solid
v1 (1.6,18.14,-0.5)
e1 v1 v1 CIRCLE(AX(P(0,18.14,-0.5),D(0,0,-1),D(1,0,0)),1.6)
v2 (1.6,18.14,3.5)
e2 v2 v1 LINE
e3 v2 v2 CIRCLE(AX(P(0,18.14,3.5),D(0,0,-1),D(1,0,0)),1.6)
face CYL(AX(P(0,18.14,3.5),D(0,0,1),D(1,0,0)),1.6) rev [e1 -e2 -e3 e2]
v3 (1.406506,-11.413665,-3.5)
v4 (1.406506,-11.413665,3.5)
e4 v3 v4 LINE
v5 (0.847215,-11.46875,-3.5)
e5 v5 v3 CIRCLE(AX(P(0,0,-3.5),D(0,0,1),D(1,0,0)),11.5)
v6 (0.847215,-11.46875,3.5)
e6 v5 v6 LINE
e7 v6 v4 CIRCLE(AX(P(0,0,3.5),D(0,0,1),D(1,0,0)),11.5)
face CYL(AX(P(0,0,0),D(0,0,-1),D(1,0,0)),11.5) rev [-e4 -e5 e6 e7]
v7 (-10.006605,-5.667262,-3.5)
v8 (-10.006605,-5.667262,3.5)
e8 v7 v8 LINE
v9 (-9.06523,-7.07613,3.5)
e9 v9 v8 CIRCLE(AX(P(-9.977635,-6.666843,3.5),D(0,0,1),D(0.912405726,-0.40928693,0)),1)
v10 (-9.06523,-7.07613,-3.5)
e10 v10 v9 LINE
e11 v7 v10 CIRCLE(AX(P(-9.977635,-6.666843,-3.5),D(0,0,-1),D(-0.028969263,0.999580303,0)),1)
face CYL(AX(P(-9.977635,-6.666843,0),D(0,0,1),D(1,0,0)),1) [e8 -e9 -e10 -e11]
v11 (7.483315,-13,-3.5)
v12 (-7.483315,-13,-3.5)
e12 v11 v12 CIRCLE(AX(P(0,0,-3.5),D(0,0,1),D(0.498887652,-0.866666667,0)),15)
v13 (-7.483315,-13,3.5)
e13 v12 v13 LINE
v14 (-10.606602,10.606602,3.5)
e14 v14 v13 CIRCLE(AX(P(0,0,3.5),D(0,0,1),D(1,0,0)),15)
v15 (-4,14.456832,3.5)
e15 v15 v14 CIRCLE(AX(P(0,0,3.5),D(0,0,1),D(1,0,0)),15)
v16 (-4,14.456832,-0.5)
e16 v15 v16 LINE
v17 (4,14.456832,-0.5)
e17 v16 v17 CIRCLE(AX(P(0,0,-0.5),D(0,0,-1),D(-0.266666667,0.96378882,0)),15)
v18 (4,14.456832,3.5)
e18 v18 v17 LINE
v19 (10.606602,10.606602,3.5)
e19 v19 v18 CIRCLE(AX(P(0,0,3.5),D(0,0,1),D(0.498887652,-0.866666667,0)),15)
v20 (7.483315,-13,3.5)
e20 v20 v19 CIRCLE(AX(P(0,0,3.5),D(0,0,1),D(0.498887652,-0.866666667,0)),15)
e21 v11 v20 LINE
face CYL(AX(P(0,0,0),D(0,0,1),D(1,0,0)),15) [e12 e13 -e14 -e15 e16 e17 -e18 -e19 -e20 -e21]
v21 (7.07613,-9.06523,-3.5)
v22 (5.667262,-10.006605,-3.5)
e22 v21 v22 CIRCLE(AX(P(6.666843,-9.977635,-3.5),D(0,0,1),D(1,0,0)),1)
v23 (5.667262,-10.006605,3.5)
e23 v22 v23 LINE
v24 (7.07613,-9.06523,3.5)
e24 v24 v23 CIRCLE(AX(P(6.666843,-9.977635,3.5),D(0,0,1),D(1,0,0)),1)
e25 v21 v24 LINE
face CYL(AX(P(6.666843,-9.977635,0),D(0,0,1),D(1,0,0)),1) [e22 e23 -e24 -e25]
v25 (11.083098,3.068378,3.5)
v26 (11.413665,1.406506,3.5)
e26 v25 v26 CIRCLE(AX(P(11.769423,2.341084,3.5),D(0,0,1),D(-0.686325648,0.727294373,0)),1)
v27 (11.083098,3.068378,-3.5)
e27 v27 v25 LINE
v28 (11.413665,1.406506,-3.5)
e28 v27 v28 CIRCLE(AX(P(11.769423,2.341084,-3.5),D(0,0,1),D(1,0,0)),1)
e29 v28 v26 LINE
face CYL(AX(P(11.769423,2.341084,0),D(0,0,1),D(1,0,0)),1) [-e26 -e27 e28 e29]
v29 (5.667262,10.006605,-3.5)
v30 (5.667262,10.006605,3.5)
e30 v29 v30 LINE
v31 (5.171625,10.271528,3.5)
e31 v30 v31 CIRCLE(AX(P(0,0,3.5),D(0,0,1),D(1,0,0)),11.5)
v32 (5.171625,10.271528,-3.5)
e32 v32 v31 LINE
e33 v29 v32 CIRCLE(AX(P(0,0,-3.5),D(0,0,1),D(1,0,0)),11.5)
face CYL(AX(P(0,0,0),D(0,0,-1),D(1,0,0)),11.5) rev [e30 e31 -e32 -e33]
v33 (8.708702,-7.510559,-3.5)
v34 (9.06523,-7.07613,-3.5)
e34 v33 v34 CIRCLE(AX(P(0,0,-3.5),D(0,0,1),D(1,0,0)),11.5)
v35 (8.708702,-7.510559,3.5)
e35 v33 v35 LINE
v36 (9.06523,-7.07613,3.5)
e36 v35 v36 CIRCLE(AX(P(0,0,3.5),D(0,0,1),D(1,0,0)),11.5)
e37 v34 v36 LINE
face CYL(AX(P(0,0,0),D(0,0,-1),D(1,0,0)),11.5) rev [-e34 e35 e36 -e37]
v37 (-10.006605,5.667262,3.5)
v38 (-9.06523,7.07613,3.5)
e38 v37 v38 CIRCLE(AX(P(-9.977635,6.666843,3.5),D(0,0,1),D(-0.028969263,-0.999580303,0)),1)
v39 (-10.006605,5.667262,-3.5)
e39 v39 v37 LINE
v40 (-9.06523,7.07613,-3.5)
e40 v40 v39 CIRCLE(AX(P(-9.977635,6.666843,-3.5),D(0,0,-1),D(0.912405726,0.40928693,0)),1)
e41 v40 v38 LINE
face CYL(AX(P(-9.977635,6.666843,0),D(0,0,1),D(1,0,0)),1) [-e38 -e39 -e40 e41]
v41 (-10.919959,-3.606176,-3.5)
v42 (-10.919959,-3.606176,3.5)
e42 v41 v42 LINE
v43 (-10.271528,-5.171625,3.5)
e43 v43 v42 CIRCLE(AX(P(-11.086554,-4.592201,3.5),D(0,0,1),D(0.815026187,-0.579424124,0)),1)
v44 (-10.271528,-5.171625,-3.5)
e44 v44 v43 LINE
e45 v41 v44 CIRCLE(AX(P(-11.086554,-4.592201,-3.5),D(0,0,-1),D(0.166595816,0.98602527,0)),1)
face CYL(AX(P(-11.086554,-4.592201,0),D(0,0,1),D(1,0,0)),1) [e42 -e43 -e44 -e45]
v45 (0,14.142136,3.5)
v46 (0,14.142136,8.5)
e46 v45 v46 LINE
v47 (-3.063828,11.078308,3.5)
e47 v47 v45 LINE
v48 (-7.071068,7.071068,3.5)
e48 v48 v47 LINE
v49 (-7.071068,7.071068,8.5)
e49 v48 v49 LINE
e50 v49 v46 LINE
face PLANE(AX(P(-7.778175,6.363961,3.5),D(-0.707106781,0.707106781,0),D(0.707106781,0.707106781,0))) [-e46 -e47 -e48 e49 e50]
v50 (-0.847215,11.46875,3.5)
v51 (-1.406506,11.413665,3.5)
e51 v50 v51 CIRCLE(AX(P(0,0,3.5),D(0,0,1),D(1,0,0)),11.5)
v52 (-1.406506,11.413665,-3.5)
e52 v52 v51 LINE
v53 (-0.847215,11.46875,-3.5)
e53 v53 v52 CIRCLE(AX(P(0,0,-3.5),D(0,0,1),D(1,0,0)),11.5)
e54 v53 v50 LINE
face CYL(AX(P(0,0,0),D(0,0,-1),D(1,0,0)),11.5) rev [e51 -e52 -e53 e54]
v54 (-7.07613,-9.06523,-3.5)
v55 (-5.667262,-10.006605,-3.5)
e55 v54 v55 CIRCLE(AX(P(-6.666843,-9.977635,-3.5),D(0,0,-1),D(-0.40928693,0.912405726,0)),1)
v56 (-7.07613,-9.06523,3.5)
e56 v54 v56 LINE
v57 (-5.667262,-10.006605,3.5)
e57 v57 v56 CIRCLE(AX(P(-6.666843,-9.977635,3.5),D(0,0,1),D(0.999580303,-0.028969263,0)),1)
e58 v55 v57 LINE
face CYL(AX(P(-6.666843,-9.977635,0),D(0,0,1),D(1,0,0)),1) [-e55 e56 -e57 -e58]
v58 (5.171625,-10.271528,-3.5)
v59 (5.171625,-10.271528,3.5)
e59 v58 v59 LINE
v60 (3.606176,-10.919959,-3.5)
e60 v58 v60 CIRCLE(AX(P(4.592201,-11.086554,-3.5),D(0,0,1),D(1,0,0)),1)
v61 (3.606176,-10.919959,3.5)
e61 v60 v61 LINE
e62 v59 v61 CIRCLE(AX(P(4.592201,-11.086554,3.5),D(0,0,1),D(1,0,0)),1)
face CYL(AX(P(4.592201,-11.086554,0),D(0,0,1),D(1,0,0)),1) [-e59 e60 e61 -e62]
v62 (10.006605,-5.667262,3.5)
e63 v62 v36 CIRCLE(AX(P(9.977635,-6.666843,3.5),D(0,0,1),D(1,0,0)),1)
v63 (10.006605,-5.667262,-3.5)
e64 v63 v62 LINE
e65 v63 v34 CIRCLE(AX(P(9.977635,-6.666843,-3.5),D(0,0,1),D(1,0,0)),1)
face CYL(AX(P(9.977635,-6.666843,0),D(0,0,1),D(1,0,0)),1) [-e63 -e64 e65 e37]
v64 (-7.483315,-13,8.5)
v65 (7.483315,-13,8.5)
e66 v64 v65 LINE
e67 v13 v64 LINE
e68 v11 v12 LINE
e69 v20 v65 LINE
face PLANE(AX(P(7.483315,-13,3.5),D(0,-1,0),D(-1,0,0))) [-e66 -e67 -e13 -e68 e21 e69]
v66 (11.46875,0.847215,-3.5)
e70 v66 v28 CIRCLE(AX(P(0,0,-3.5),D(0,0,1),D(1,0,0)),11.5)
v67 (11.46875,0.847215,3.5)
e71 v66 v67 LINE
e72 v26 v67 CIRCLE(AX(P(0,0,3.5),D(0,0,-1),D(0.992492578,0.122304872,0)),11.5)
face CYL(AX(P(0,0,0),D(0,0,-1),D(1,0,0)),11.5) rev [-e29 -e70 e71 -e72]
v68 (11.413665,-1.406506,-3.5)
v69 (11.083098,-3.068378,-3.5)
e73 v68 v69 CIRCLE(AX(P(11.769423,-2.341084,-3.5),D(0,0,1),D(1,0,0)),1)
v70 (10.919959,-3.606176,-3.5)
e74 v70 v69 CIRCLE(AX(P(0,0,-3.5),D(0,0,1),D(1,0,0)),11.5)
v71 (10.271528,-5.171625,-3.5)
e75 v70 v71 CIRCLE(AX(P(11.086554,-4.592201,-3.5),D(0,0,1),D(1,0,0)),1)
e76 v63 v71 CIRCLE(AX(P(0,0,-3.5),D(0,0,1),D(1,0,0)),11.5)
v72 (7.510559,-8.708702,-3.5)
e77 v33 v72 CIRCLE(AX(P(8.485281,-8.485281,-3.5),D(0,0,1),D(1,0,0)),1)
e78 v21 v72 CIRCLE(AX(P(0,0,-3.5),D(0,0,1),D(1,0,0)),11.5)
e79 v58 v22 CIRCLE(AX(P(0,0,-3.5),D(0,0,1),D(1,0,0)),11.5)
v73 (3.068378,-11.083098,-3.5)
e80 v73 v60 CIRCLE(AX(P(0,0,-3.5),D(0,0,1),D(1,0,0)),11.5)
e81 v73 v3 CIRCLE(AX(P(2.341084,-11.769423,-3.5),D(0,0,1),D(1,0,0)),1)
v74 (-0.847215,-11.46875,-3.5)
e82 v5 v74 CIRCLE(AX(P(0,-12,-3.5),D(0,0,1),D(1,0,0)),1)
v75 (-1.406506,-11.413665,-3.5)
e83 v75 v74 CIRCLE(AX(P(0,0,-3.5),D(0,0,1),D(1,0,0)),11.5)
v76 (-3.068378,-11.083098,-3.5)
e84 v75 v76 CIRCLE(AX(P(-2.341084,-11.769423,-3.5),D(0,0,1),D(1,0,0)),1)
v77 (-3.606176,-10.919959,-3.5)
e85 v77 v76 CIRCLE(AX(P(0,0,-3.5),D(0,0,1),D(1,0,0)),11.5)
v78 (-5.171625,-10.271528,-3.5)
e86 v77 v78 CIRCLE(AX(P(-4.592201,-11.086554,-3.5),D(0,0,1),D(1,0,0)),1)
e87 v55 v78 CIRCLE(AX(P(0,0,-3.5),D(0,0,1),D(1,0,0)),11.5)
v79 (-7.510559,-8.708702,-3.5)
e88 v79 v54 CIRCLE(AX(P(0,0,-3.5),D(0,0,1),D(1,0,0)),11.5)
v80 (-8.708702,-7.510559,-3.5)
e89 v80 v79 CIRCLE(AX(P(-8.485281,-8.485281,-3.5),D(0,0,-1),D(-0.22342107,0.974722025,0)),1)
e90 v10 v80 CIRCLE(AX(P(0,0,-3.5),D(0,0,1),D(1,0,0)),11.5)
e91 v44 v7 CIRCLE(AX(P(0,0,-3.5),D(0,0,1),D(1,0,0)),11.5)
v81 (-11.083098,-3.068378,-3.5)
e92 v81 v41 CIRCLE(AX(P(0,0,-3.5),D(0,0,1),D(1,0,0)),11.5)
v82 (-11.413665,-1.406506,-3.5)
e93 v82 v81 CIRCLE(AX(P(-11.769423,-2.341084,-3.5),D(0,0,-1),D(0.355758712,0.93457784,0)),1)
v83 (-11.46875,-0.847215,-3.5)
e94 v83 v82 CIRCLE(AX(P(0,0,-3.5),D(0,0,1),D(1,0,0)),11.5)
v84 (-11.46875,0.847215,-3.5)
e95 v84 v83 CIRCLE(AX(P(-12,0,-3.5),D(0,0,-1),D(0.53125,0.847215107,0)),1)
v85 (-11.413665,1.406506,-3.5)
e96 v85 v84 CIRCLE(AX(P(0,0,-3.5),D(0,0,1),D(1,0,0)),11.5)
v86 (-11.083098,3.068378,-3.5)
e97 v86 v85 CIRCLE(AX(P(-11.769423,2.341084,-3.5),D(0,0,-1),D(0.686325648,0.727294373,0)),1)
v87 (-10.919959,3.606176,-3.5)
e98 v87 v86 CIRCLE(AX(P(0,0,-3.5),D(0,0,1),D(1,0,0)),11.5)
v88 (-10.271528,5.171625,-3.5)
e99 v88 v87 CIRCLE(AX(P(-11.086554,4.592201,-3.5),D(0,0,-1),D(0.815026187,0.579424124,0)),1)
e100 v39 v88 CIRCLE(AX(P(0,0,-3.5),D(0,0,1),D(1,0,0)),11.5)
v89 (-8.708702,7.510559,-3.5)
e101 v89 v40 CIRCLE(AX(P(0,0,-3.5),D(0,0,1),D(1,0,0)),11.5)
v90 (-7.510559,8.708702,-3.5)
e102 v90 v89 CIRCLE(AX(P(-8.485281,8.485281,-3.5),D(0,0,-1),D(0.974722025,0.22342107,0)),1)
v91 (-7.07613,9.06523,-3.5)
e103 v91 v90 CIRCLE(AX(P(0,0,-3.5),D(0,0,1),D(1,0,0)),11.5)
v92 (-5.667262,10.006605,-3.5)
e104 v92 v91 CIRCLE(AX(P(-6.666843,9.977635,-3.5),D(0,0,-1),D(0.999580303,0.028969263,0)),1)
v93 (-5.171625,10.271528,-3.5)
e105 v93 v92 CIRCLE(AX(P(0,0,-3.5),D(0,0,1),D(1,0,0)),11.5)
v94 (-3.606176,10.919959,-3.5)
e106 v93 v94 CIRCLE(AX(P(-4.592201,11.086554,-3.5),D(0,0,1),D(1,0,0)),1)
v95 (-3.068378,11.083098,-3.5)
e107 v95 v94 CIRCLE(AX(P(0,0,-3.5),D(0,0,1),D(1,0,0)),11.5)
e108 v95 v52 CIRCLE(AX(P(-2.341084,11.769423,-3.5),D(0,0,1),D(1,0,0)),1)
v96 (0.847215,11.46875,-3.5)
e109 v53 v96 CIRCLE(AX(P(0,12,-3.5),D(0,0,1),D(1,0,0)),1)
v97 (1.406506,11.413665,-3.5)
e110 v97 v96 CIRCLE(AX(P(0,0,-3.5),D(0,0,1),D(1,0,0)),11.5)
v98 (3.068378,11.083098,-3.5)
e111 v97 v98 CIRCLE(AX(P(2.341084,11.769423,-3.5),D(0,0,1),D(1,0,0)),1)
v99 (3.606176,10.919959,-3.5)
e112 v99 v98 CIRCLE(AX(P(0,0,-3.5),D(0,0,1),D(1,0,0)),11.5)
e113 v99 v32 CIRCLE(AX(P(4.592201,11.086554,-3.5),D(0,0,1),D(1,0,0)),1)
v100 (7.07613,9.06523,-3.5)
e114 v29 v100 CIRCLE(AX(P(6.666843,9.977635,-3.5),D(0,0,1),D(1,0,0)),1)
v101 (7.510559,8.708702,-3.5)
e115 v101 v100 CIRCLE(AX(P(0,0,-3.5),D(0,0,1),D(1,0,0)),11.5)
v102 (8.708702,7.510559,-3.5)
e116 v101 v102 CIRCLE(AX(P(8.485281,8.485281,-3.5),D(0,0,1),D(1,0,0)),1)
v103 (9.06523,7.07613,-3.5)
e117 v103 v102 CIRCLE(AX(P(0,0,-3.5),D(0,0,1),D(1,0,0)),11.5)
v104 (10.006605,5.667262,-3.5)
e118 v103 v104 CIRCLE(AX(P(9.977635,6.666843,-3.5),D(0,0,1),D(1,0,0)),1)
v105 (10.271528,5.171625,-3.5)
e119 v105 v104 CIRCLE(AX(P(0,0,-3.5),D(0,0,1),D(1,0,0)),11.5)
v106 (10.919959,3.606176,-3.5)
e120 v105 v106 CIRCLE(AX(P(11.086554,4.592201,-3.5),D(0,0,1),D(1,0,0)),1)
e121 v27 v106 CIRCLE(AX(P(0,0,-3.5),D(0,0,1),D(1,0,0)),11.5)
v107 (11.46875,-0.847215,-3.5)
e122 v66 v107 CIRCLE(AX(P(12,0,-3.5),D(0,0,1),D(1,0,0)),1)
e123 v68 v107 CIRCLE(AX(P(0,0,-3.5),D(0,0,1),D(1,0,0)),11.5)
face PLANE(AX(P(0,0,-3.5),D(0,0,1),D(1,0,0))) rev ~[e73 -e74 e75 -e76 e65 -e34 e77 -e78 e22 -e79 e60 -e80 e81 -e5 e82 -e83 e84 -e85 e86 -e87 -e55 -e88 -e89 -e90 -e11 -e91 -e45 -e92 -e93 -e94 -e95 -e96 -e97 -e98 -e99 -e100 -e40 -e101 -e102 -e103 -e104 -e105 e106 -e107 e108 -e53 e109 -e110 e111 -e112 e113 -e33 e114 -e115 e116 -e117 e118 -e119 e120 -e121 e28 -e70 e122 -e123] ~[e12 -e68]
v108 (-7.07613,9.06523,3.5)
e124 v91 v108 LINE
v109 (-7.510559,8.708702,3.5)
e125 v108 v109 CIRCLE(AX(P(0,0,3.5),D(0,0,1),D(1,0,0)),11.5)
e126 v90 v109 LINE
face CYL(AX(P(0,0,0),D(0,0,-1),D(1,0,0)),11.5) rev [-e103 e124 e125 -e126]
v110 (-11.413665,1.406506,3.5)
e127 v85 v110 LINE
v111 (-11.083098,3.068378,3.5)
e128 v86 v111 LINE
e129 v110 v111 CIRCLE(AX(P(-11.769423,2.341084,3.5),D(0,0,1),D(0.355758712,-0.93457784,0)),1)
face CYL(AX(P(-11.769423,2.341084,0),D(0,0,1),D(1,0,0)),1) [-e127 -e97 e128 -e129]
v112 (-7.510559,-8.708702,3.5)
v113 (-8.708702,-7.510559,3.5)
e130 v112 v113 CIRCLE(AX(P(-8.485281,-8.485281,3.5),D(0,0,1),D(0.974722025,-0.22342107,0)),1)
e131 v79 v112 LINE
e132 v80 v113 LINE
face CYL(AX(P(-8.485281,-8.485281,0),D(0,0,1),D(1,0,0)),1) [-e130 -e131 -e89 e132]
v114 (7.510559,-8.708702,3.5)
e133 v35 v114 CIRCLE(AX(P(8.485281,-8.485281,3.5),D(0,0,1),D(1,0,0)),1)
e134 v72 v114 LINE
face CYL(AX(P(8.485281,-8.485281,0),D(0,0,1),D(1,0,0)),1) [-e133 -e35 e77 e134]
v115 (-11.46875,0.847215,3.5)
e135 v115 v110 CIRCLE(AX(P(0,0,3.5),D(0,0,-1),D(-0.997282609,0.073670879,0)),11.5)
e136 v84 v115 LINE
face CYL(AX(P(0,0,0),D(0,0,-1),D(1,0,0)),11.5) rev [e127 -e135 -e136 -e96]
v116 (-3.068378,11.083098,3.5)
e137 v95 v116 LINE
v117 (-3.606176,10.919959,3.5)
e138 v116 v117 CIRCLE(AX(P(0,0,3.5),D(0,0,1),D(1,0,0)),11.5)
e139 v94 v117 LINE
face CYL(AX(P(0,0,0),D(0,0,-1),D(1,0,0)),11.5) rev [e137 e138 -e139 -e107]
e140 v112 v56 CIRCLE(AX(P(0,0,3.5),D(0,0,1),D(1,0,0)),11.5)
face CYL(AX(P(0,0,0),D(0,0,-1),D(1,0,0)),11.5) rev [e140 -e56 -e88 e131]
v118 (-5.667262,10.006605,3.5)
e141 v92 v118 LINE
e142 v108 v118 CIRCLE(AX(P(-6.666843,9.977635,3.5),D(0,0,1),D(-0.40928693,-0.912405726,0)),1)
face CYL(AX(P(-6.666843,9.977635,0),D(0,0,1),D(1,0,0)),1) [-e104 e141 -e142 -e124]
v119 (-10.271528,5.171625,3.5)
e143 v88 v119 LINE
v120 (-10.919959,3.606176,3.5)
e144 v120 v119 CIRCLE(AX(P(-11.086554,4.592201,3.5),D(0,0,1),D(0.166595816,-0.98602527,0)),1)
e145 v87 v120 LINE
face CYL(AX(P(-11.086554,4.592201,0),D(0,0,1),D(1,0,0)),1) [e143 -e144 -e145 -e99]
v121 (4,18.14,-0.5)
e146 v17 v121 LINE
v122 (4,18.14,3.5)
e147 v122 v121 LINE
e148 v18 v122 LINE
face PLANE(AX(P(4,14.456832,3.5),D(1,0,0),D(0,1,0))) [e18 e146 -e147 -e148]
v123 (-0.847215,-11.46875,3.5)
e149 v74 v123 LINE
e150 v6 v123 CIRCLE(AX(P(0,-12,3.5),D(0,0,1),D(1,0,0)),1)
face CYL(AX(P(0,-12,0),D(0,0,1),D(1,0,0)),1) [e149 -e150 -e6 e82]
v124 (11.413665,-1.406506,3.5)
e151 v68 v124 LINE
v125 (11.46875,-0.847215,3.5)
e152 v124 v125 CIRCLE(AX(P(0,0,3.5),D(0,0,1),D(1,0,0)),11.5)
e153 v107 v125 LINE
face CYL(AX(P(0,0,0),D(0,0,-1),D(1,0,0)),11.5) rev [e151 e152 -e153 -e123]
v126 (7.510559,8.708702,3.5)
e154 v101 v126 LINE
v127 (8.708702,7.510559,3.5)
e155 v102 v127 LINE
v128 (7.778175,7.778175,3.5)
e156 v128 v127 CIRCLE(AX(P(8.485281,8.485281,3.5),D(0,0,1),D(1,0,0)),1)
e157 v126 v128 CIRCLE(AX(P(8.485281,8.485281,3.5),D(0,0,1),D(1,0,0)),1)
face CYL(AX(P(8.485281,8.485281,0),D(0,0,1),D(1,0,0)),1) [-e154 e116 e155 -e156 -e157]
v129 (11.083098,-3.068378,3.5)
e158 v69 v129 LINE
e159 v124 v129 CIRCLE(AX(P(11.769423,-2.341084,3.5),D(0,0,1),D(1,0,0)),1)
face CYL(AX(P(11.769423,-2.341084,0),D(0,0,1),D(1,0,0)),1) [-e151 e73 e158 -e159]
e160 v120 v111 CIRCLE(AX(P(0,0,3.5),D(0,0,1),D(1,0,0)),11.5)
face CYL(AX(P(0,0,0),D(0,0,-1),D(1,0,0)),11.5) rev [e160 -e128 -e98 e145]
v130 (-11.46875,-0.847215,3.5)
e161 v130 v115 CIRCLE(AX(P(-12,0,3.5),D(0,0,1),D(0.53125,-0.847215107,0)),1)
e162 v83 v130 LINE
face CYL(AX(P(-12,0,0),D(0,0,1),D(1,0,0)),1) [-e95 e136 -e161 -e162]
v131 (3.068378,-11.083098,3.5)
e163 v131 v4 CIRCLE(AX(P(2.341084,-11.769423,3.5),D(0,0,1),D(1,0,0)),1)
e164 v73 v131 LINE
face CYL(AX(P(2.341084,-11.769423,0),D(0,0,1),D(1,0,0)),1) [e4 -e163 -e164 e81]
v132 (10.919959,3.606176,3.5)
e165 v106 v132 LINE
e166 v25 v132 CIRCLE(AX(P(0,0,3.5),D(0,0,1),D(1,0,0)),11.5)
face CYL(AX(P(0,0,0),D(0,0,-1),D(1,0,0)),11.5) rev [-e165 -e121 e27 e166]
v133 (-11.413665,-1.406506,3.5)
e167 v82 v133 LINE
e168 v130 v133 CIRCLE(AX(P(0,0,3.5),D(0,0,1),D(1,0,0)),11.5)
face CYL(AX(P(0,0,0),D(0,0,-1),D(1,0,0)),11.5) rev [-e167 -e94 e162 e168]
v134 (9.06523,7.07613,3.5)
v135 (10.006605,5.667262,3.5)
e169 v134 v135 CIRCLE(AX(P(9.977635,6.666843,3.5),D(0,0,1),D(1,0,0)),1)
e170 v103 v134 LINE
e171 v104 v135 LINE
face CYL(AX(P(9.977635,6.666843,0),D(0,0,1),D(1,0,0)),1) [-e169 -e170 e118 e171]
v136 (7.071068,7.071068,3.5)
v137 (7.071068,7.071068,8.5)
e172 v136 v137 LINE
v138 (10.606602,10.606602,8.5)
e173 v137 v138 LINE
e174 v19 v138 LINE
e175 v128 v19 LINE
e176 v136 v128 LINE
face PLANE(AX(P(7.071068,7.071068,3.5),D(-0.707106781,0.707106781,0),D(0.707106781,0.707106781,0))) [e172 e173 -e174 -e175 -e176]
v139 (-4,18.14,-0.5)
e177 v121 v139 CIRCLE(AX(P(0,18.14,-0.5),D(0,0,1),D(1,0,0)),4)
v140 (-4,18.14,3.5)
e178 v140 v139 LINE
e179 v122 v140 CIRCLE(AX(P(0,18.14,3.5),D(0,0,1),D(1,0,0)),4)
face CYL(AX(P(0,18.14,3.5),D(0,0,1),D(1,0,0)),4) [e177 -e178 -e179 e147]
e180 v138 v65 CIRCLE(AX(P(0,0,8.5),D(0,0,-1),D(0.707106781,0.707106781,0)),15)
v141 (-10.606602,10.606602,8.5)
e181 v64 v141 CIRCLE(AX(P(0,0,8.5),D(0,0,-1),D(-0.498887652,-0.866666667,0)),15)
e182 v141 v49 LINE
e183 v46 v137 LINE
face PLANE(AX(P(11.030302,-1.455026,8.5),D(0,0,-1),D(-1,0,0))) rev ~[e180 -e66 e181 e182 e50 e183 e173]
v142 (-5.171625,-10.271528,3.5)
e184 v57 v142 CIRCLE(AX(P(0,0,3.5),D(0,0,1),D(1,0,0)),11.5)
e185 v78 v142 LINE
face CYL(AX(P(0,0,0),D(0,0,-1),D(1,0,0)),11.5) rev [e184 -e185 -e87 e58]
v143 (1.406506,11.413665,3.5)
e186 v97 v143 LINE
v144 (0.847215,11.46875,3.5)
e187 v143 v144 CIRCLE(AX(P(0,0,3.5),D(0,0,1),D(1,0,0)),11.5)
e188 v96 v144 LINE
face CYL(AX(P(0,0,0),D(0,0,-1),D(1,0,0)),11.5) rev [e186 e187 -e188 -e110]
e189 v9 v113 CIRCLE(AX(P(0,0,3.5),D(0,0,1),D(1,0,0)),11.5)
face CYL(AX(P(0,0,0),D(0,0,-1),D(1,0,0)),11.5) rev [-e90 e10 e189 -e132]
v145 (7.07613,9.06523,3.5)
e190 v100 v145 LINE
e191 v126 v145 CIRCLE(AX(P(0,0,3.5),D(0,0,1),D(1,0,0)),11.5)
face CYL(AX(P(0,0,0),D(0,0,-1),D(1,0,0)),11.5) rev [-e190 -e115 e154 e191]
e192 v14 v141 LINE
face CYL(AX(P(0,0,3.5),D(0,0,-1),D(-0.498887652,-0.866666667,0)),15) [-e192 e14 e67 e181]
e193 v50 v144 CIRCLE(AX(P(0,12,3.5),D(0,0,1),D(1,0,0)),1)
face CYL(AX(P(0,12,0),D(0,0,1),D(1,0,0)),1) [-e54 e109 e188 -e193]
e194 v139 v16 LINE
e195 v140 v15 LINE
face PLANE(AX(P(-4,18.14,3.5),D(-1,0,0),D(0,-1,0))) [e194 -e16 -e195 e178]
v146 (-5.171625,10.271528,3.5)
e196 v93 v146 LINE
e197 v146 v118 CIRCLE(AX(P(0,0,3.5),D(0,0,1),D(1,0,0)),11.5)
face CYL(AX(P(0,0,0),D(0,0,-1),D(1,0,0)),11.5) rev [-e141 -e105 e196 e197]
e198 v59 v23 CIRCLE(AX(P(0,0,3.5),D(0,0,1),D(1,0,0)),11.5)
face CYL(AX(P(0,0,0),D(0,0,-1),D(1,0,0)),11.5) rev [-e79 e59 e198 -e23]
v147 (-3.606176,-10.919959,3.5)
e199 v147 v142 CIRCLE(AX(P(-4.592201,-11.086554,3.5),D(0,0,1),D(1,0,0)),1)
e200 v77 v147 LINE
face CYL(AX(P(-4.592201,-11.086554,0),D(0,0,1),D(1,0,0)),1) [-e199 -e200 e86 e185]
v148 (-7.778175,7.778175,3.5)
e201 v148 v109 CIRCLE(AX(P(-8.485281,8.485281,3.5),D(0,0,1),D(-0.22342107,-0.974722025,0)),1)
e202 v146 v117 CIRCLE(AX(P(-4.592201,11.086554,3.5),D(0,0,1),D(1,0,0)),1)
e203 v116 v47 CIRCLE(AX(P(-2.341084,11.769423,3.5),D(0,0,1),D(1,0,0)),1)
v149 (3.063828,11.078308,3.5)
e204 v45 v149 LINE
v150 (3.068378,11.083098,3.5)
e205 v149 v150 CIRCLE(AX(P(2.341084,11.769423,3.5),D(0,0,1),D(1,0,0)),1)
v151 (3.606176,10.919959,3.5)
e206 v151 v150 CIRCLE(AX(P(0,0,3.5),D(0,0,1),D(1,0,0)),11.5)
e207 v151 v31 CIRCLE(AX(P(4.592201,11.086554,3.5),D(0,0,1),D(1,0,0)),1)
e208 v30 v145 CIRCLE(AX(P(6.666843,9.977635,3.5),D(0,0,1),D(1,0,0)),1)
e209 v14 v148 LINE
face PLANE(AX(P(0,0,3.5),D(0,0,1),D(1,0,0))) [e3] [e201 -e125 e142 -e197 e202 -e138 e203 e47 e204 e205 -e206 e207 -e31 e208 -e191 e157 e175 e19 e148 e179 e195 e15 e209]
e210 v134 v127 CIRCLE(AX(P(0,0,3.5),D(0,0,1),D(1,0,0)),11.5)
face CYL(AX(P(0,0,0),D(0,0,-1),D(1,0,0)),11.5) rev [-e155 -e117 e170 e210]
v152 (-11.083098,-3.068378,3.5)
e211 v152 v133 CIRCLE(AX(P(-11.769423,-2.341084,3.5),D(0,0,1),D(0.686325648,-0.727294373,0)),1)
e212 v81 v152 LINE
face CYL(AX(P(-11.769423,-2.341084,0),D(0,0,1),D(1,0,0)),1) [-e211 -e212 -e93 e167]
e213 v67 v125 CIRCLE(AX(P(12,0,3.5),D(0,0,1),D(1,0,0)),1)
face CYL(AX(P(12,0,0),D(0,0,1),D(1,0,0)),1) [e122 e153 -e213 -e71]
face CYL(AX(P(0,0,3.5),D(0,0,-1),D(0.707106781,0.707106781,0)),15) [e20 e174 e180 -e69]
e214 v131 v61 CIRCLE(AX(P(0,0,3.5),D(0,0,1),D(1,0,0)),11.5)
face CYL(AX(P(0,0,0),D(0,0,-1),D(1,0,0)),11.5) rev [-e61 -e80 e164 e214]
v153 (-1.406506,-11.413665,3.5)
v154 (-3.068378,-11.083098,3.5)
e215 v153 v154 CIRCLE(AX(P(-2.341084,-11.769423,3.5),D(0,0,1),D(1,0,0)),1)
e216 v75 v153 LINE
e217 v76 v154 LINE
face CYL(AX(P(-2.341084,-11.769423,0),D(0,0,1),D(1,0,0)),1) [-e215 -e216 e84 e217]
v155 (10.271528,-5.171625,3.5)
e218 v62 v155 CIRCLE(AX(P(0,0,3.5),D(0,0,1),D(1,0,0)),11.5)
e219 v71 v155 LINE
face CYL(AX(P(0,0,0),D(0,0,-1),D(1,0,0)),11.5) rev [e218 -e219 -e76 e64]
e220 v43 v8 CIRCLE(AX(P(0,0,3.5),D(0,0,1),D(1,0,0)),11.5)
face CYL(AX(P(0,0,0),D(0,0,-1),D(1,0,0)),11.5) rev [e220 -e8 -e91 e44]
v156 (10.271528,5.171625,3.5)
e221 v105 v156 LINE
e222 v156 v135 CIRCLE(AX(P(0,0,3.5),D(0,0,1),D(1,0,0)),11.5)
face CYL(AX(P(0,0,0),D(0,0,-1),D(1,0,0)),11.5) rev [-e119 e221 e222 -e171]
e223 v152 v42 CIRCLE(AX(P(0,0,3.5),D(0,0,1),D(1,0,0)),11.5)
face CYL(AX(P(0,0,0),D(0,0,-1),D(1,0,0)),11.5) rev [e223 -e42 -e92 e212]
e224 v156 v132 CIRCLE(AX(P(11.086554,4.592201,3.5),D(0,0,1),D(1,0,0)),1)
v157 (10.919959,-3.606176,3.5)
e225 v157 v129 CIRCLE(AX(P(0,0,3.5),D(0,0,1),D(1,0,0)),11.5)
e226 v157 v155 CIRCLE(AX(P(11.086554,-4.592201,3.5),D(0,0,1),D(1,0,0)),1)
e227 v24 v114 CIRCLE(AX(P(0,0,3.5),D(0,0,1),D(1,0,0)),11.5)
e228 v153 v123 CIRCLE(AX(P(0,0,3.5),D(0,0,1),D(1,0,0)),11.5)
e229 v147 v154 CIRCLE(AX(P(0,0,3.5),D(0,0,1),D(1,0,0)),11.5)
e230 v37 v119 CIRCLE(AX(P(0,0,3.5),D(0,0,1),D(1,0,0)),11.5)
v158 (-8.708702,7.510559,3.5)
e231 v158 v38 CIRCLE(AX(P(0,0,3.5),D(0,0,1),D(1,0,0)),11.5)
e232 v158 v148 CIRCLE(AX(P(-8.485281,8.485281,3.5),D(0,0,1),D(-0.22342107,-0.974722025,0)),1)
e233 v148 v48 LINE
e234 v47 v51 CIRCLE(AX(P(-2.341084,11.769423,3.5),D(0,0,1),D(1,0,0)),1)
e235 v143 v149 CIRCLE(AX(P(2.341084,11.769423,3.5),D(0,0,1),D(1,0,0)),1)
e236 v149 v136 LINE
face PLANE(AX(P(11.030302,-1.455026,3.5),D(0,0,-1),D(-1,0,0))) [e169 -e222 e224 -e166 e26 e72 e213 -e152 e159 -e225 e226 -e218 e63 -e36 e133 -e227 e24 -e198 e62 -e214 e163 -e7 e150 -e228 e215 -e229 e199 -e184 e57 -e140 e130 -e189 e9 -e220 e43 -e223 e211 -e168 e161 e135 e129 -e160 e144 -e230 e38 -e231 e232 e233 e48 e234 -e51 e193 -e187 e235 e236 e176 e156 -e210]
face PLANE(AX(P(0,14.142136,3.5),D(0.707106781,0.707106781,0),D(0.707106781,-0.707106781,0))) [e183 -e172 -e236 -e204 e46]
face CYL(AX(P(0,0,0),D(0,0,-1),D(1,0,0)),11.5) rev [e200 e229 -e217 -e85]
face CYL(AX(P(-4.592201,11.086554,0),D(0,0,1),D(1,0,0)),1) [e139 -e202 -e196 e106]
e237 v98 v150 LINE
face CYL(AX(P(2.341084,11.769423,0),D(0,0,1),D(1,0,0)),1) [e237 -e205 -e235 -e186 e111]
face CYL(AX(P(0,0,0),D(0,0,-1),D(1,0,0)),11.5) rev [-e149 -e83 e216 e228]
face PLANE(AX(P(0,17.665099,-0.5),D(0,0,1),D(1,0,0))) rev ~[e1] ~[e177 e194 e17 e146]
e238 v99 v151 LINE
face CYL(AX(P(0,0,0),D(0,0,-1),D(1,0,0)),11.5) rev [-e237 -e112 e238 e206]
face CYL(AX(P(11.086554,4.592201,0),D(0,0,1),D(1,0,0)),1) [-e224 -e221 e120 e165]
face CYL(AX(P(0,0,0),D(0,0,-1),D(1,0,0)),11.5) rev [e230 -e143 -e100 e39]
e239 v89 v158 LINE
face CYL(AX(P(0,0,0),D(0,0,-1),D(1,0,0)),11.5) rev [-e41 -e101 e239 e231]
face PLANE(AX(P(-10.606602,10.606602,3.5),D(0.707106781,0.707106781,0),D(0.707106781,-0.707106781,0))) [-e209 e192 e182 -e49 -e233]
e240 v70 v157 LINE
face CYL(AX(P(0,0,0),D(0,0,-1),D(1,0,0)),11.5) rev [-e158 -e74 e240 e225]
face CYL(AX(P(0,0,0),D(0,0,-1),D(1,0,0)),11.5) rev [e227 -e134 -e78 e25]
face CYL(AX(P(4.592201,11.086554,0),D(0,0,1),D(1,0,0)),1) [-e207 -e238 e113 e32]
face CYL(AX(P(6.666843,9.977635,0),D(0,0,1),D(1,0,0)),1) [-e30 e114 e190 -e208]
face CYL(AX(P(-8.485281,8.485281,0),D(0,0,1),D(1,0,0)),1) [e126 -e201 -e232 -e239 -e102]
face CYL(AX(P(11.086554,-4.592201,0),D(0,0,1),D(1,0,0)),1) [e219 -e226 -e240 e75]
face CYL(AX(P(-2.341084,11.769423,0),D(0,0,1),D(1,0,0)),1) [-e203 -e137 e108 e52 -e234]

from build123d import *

# Parameters (mm, degrees)
SKETCH1_R               = 1
BOSS_EXTRUDE1_DEPTH     = 3.5
BOSS_EXTRUDE1_2_DEPTH   = 3.5
BOSS_EXTRUDE1_3_DEPTH   = 3.5
BOSS_EXTRUDE1_4_DEPTH   = 3.5
BOSS_EXTRUDE1_5_DEPTH   = 3.5
BOSS_EXTRUDE1_6_DEPTH   = 3.5
BOSS_EXTRUDE1_7_DEPTH   = 3.5
BOSS_EXTRUDE1_8_DEPTH   = 3.5
BOSS_EXTRUDE1_9_DEPTH   = 3.5
BOSS_EXTRUDE1_10_DEPTH  = 3.5
BOSS_EXTRUDE1_11_DEPTH  = 3.5
BOSS_EXTRUDE1_12_DEPTH  = 3.5
BOSS_EXTRUDE1_13_DEPTH  = 3.5
BOSS_EXTRUDE1_14_DEPTH  = 3.5
BOSS_EXTRUDE1_15_DEPTH  = 3.5
BOSS_EXTRUDE1_16_DEPTH  = 3.5
BOSS_EXTRUDE1_17_DEPTH  = 3.5
BOSS_EXTRUDE1_18_DEPTH  = 3.5
BOSS_EXTRUDE1_19_DEPTH  = 3.5
BOSS_EXTRUDE1_20_DEPTH  = 3.5
BOSS_EXTRUDE1_21_DEPTH  = 3.5
BOSS_EXTRUDE1_22_DEPTH  = 3.5
BOSS_EXTRUDE1_23_DEPTH  = 3.5
BOSS_EXTRUDE1_24_DEPTH  = 3.5
BOSS_EXTRUDE1_25_DEPTH  = 3.5
BOSS_EXTRUDE1_26_DEPTH  = 3.5
BOSS_EXTRUDE1_27_DEPTH  = 3.5
BOSS_EXTRUDE1_28_DEPTH  = 3.5
BOSS_EXTRUDE1_29_DEPTH  = 3.5
BOSS_EXTRUDE1_30_DEPTH  = 3.5
BOSS_EXTRUDE1_31_DEPTH  = 3.5
BOSS_EXTRUDE1_32_DEPTH  = 3.5
SKETCH2_R               = 15
SKETCH2_R_2             = 11.5
BOSS_EXTRUDE2_DEPTH     = 3.5
BOSS_EXTRUDE5_START     = -7
SKETCH3_R               = 1.6
BOSS_EXTRUDE5_DEPTH     = 4
BOSS_EXTRUDE4_DEPTH     = 5
CUT_EXTRUDE1_DEPTH      = 30.311765556
CUT_EXTRUDE1_DEPTH_BACK = 30.311765556
BOSS_EXTRUDE6_DEPTH     = 5


with BuildPart() as part:
    # Sketch1 → Boss-Extrude1 (new, symmetric)
    with BuildSketch(Plane.XY):
        with Locations((12, 0)):
            Circle(SKETCH1_R)
    extrude(amount=BOSS_EXTRUDE1_DEPTH, both=True)



with BuildPart() as body_2:
    # Sketch1 → Boss-Extrude1 2 (new, symmetric)
    with BuildSketch(Plane.XY):
        with Locations((11.769423365, -2.341083864)):
            Circle(SKETCH1_R)
    extrude(amount=BOSS_EXTRUDE1_2_DEPTH, both=True)


with BuildPart() as body_3:
    # Sketch1 → Boss-Extrude1 3 (new, symmetric)
    with BuildSketch(Plane.XY):
        with Locations((11.08655439, -4.592201188)):
            Circle(SKETCH1_R)
    extrude(amount=BOSS_EXTRUDE1_3_DEPTH, both=True)


with BuildPart() as body_4:
    # Sketch1 → Boss-Extrude1 4 (new, symmetric)
    with BuildSketch(Plane.XY):
        with Locations((9.977635348, -6.666842796)):
            Circle(SKETCH1_R)
    extrude(amount=BOSS_EXTRUDE1_4_DEPTH, both=True)


with BuildPart() as body_5:
    # Sketch1 → Boss-Extrude1 5 (new, symmetric)
    with BuildSketch(Plane.XY):
        with Locations((8.485281374, -8.485281374)):
            Circle(SKETCH1_R)
    extrude(amount=BOSS_EXTRUDE1_5_DEPTH, both=True)


with BuildPart() as body_6:
    # Sketch1 → Boss-Extrude1 6 (new, symmetric)
    with BuildSketch(Plane.XY):
        with Locations((6.666842796, -9.977635348)):
            Circle(SKETCH1_R)
    extrude(amount=BOSS_EXTRUDE1_6_DEPTH, both=True)


with BuildPart() as body_7:
    # Sketch1 → Boss-Extrude1 7 (new, symmetric)
    with BuildSketch(Plane.XY):
        with Locations((4.592201188, -11.08655439)):
            Circle(SKETCH1_R)
    extrude(amount=BOSS_EXTRUDE1_7_DEPTH, both=True)


with BuildPart() as body_8:
    # Sketch1 → Boss-Extrude1 8 (new, symmetric)
    with BuildSketch(Plane.XY):
        with Locations((2.341083864, -11.769423365)):
            Circle(SKETCH1_R)
    extrude(amount=BOSS_EXTRUDE1_8_DEPTH, both=True)


with BuildPart() as body_9:
    # Sketch1 → Boss-Extrude1 9 (new, symmetric)
    with BuildSketch(Plane.XY):
        with Locations((0, -12)):
            Circle(SKETCH1_R)
    extrude(amount=BOSS_EXTRUDE1_9_DEPTH, both=True)


with BuildPart() as body_10:
    # Sketch1 → Boss-Extrude1 10 (new, symmetric)
    with BuildSketch(Plane.XY):
        with Locations((-2.341083864, -11.769423365)):
            Circle(SKETCH1_R)
    extrude(amount=BOSS_EXTRUDE1_10_DEPTH, both=True)


with BuildPart() as body_11:
    # Sketch1 → Boss-Extrude1 11 (new, symmetric)
    with BuildSketch(Plane.XY):
        with Locations((-4.592201188, -11.08655439)):
            Circle(SKETCH1_R)
    extrude(amount=BOSS_EXTRUDE1_11_DEPTH, both=True)


with BuildPart() as body_12:
    # Sketch1 → Boss-Extrude1 12 (new, symmetric)
    with BuildSketch(Plane.XY):
        with Locations((-6.666842796, -9.977635348)):
            Circle(SKETCH1_R)
    extrude(amount=BOSS_EXTRUDE1_12_DEPTH, both=True)


with BuildPart() as body_13:
    # Sketch1 → Boss-Extrude1 13 (new, symmetric)
    with BuildSketch(Plane.XY):
        with Locations((-8.485281374, -8.485281374)):
            Circle(SKETCH1_R)
    extrude(amount=BOSS_EXTRUDE1_13_DEPTH, both=True)


with BuildPart() as body_14:
    # Sketch1 → Boss-Extrude1 14 (new, symmetric)
    with BuildSketch(Plane.XY):
        with Locations((-9.977635348, -6.666842796)):
            Circle(SKETCH1_R)
    extrude(amount=BOSS_EXTRUDE1_14_DEPTH, both=True)


with BuildPart() as body_15:
    # Sketch1 → Boss-Extrude1 15 (new, symmetric)
    with BuildSketch(Plane.XY):
        with Locations((-11.08655439, -4.592201188)):
            Circle(SKETCH1_R)
    extrude(amount=BOSS_EXTRUDE1_15_DEPTH, both=True)


with BuildPart() as body_16:
    # Sketch1 → Boss-Extrude1 16 (new, symmetric)
    with BuildSketch(Plane.XY):
        with Locations((-11.769423365, -2.341083864)):
            Circle(SKETCH1_R)
    extrude(amount=BOSS_EXTRUDE1_16_DEPTH, both=True)


with BuildPart() as body_17:
    # Sketch1 → Boss-Extrude1 17 (new, symmetric)
    with BuildSketch(Plane.XY):
        with Locations((-12, 0)):
            Circle(SKETCH1_R)
    extrude(amount=BOSS_EXTRUDE1_17_DEPTH, both=True)


with BuildPart() as body_18:
    # Sketch1 → Boss-Extrude1 18 (new, symmetric)
    with BuildSketch(Plane.XY):
        with Locations((-11.769423365, 2.341083864)):
            Circle(SKETCH1_R)
    extrude(amount=BOSS_EXTRUDE1_18_DEPTH, both=True)


with BuildPart() as body_19:
    # Sketch1 → Boss-Extrude1 19 (new, symmetric)
    with BuildSketch(Plane.XY):
        with Locations((-11.08655439, 4.592201188)):
            Circle(SKETCH1_R)
    extrude(amount=BOSS_EXTRUDE1_19_DEPTH, both=True)


with BuildPart() as body_20:
    # Sketch1 → Boss-Extrude1 20 (new, symmetric)
    with BuildSketch(Plane.XY):
        with Locations((-9.977635348, 6.666842796)):
            Circle(SKETCH1_R)
    extrude(amount=BOSS_EXTRUDE1_20_DEPTH, both=True)


with BuildPart() as body_21:
    # Sketch1 → Boss-Extrude1 21 (new, symmetric)
    with BuildSketch(Plane.XY):
        with Locations((-8.485281374, 8.485281374)):
            Circle(SKETCH1_R)
    extrude(amount=BOSS_EXTRUDE1_21_DEPTH, both=True)


with BuildPart() as body_22:
    # Sketch1 → Boss-Extrude1 22 (new, symmetric)
    with BuildSketch(Plane.XY):
        with Locations((-6.666842796, 9.977635348)):
            Circle(SKETCH1_R)
    extrude(amount=BOSS_EXTRUDE1_22_DEPTH, both=True)


with BuildPart() as body_23:
    # Sketch1 → Boss-Extrude1 23 (new, symmetric)
    with BuildSketch(Plane.XY):
        with Locations((-4.592201188, 11.08655439)):
            Circle(SKETCH1_R)
    extrude(amount=BOSS_EXTRUDE1_23_DEPTH, both=True)


with BuildPart() as body_24:
    # Sketch1 → Boss-Extrude1 24 (new, symmetric)
    with BuildSketch(Plane.XY):
        with Locations((-2.341083864, 11.769423365)):
            Circle(SKETCH1_R)
    extrude(amount=BOSS_EXTRUDE1_24_DEPTH, both=True)


with BuildPart() as body_25:
    # Sketch1 → Boss-Extrude1 25 (new, symmetric)
    with BuildSketch(Plane.XY):
        with Locations((0, 12)):
            Circle(SKETCH1_R)
    extrude(amount=BOSS_EXTRUDE1_25_DEPTH, both=True)


with BuildPart() as body_26:
    # Sketch1 → Boss-Extrude1 26 (new, symmetric)
    with BuildSketch(Plane.XY):
        with Locations((2.341083864, 11.769423365)):
            Circle(SKETCH1_R)
    extrude(amount=BOSS_EXTRUDE1_26_DEPTH, both=True)


with BuildPart() as body_27:
    # Sketch1 → Boss-Extrude1 27 (new, symmetric)
    with BuildSketch(Plane.XY):
        with Locations((4.592201188, 11.08655439)):
            Circle(SKETCH1_R)
    extrude(amount=BOSS_EXTRUDE1_27_DEPTH, both=True)


with BuildPart() as body_28:
    # Sketch1 → Boss-Extrude1 28 (new, symmetric)
    with BuildSketch(Plane.XY):
        with Locations((6.666842796, 9.977635348)):
            Circle(SKETCH1_R)
    extrude(amount=BOSS_EXTRUDE1_28_DEPTH, both=True)


with BuildPart() as body_29:
    # Sketch1 → Boss-Extrude1 29 (new, symmetric)
    with BuildSketch(Plane.XY):
        with Locations((8.485281374, 8.485281374)):
            Circle(SKETCH1_R)
    extrude(amount=BOSS_EXTRUDE1_29_DEPTH, both=True)


with BuildPart() as body_30:
    # Sketch1 → Boss-Extrude1 30 (new, symmetric)
    with BuildSketch(Plane.XY):
        with Locations((9.977635348, 6.666842796)):
            Circle(SKETCH1_R)
    extrude(amount=BOSS_EXTRUDE1_30_DEPTH, both=True)


with BuildPart() as body_31:
    # Sketch1 → Boss-Extrude1 31 (new, symmetric)
    with BuildSketch(Plane.XY):
        with Locations((11.08655439, 4.592201188)):
            Circle(SKETCH1_R)
    extrude(amount=BOSS_EXTRUDE1_31_DEPTH, both=True)


with BuildPart() as body_32:
    # Sketch1 → Boss-Extrude1 32 (new, symmetric)
    with BuildSketch(Plane.XY):
        with Locations((11.769423365, 2.341083864)):
            Circle(SKETCH1_R)
    extrude(amount=BOSS_EXTRUDE1_32_DEPTH, both=True)


with BuildPart() as part_1:
    add(part.part)

    add(body_2.part)  # Boss-Extrude2 merges body 2

    add(body_3.part)  # Boss-Extrude2 merges body 3

    add(body_4.part)  # Boss-Extrude2 merges body 4

    add(body_5.part)  # Boss-Extrude2 merges body 5

    add(body_6.part)  # Boss-Extrude2 merges body 6

    add(body_7.part)  # Boss-Extrude2 merges body 7

    add(body_8.part)  # Boss-Extrude2 merges body 8

    add(body_9.part)  # Boss-Extrude2 merges body 9

    add(body_10.part)  # Boss-Extrude2 merges body 10

    add(body_11.part)  # Boss-Extrude2 merges body 11

    add(body_12.part)  # Boss-Extrude2 merges body 12

    add(body_13.part)  # Boss-Extrude2 merges body 13

    add(body_14.part)  # Boss-Extrude2 merges body 14

    add(body_15.part)  # Boss-Extrude2 merges body 15

    add(body_16.part)  # Boss-Extrude2 merges body 16

    add(body_17.part)  # Boss-Extrude2 merges body 17

    add(body_18.part)  # Boss-Extrude2 merges body 18

    add(body_19.part)  # Boss-Extrude2 merges body 19

    add(body_20.part)  # Boss-Extrude2 merges body 20

    add(body_21.part)  # Boss-Extrude2 merges body 21

    add(body_22.part)  # Boss-Extrude2 merges body 22

    add(body_23.part)  # Boss-Extrude2 merges body 23

    add(body_24.part)  # Boss-Extrude2 merges body 24

    add(body_25.part)  # Boss-Extrude2 merges body 25

    add(body_26.part)  # Boss-Extrude2 merges body 26

    add(body_27.part)  # Boss-Extrude2 merges body 27

    add(body_28.part)  # Boss-Extrude2 merges body 28

    add(body_29.part)  # Boss-Extrude2 merges body 29

    add(body_30.part)  # Boss-Extrude2 merges body 30

    add(body_31.part)  # Boss-Extrude2 merges body 31

    add(body_32.part)  # Boss-Extrude2 merges body 32
    # Sketch2 → Boss-Extrude2 (add, symmetric)
    with BuildSketch(Plane.XY):
        Circle(SKETCH2_R)
        Circle(SKETCH2_R_2, mode=Mode.SUBTRACT)
    extrude(amount=BOSS_EXTRUDE2_DEPTH, both=True)

    # Sketch3 → Boss-Extrude5 (add)
    with BuildSketch(Plane(origin=(0, 0, -3.5), x_dir=(-1, 0, 0), z_dir=(0, 0, -1)).offset(BOSS_EXTRUDE5_START)):
        with BuildLine():
            Line((-4, 14.456832295), (-4, 18.14))
            ThreePointArc((-4, 18.14), (0, 22.14), (4, 18.14))
            Line((4, 18.14), (4, 14.456832295))
            ThreePointArc((4, 14.456832295), (0, 15), (-4, 14.456832295))
        make_face()
        with Locations(Location((0, 18.14, 0), (0, 0, 180))):
            Circle(SKETCH3_R, mode=Mode.SUBTRACT)
    extrude(amount=BOSS_EXTRUDE5_DEPTH)

    # Sketch4 → Boss-Extrude4 (add)
    with BuildSketch(Plane.XY.offset(3.5)):
        with BuildLine():
            Line((-7.778174593, 6.363961031), (0, 14.142135624))
            Line((0, 14.142135624), (7.778174593, 6.363961031))
            ThreePointArc((7.778174593, 6.363961031), (0, -15), (-7.778174593, 6.363961031))
        make_face()
    extrude(amount=BOSS_EXTRUDE4_DEPTH)

    # Sketch5 → Cut-Extrude1 (cut, two sides: drawn at the far end of the back side and taken through both)
    with BuildSketch(Plane.XY.offset(8.5).offset(-CUT_EXTRUDE1_DEPTH_BACK)):
        with BuildLine():
            Line((-7.483314774, -13), (7.483314774, -13))
            ThreePointArc((7.483314774, -13), (3.872983346, -14.491376746), (0, -15))
            ThreePointArc((0, -15), (-3.872983346, -14.491376746), (-7.483314774, -13))
        make_face()
    extrude(amount=CUT_EXTRUDE1_DEPTH + CUT_EXTRUDE1_DEPTH_BACK, mode=Mode.SUBTRACT)

    # Sketch6 → Boss-Extrude6 (add)
    with BuildSketch(Plane.XY.offset(3.5)):
        with BuildLine():
            Line((7.071067812, 7.071067812), (10.606601718, 10.606601718))
            ThreePointArc((10.606601718, 10.606601718), (14.870412934, -1.96743975), (7.483314774, -13))
            Line((7.483314774, -13), (6.662707091, -13))
            ThreePointArc((6.662707091, -13), (12.077893552, -3.597834685), (7.778174593, 6.363961031))
            Line((7.778174593, 6.363961031), (7.071067812, 7.071067812))
        make_face()
        with BuildLine():
            Line((-10.606601718, 10.606601718), (-7.071067812, 7.071067812))
            Line((-7.071067812, 7.071067812), (-7.778174593, 6.363961031))
            ThreePointArc((-7.778174593, 6.363961031), (-12.077893552, -3.597834685), (-6.662707091, -13))
            Line((-6.662707091, -13), (-7.483314774, -13))
            ThreePointArc((-7.483314774, -13), (-14.870412934, -1.96743975), (-10.606601718, 10.606601718))
        make_face()
    extrude(amount=BOSS_EXTRUDE6_DEPTH)


solid = part_1.part
